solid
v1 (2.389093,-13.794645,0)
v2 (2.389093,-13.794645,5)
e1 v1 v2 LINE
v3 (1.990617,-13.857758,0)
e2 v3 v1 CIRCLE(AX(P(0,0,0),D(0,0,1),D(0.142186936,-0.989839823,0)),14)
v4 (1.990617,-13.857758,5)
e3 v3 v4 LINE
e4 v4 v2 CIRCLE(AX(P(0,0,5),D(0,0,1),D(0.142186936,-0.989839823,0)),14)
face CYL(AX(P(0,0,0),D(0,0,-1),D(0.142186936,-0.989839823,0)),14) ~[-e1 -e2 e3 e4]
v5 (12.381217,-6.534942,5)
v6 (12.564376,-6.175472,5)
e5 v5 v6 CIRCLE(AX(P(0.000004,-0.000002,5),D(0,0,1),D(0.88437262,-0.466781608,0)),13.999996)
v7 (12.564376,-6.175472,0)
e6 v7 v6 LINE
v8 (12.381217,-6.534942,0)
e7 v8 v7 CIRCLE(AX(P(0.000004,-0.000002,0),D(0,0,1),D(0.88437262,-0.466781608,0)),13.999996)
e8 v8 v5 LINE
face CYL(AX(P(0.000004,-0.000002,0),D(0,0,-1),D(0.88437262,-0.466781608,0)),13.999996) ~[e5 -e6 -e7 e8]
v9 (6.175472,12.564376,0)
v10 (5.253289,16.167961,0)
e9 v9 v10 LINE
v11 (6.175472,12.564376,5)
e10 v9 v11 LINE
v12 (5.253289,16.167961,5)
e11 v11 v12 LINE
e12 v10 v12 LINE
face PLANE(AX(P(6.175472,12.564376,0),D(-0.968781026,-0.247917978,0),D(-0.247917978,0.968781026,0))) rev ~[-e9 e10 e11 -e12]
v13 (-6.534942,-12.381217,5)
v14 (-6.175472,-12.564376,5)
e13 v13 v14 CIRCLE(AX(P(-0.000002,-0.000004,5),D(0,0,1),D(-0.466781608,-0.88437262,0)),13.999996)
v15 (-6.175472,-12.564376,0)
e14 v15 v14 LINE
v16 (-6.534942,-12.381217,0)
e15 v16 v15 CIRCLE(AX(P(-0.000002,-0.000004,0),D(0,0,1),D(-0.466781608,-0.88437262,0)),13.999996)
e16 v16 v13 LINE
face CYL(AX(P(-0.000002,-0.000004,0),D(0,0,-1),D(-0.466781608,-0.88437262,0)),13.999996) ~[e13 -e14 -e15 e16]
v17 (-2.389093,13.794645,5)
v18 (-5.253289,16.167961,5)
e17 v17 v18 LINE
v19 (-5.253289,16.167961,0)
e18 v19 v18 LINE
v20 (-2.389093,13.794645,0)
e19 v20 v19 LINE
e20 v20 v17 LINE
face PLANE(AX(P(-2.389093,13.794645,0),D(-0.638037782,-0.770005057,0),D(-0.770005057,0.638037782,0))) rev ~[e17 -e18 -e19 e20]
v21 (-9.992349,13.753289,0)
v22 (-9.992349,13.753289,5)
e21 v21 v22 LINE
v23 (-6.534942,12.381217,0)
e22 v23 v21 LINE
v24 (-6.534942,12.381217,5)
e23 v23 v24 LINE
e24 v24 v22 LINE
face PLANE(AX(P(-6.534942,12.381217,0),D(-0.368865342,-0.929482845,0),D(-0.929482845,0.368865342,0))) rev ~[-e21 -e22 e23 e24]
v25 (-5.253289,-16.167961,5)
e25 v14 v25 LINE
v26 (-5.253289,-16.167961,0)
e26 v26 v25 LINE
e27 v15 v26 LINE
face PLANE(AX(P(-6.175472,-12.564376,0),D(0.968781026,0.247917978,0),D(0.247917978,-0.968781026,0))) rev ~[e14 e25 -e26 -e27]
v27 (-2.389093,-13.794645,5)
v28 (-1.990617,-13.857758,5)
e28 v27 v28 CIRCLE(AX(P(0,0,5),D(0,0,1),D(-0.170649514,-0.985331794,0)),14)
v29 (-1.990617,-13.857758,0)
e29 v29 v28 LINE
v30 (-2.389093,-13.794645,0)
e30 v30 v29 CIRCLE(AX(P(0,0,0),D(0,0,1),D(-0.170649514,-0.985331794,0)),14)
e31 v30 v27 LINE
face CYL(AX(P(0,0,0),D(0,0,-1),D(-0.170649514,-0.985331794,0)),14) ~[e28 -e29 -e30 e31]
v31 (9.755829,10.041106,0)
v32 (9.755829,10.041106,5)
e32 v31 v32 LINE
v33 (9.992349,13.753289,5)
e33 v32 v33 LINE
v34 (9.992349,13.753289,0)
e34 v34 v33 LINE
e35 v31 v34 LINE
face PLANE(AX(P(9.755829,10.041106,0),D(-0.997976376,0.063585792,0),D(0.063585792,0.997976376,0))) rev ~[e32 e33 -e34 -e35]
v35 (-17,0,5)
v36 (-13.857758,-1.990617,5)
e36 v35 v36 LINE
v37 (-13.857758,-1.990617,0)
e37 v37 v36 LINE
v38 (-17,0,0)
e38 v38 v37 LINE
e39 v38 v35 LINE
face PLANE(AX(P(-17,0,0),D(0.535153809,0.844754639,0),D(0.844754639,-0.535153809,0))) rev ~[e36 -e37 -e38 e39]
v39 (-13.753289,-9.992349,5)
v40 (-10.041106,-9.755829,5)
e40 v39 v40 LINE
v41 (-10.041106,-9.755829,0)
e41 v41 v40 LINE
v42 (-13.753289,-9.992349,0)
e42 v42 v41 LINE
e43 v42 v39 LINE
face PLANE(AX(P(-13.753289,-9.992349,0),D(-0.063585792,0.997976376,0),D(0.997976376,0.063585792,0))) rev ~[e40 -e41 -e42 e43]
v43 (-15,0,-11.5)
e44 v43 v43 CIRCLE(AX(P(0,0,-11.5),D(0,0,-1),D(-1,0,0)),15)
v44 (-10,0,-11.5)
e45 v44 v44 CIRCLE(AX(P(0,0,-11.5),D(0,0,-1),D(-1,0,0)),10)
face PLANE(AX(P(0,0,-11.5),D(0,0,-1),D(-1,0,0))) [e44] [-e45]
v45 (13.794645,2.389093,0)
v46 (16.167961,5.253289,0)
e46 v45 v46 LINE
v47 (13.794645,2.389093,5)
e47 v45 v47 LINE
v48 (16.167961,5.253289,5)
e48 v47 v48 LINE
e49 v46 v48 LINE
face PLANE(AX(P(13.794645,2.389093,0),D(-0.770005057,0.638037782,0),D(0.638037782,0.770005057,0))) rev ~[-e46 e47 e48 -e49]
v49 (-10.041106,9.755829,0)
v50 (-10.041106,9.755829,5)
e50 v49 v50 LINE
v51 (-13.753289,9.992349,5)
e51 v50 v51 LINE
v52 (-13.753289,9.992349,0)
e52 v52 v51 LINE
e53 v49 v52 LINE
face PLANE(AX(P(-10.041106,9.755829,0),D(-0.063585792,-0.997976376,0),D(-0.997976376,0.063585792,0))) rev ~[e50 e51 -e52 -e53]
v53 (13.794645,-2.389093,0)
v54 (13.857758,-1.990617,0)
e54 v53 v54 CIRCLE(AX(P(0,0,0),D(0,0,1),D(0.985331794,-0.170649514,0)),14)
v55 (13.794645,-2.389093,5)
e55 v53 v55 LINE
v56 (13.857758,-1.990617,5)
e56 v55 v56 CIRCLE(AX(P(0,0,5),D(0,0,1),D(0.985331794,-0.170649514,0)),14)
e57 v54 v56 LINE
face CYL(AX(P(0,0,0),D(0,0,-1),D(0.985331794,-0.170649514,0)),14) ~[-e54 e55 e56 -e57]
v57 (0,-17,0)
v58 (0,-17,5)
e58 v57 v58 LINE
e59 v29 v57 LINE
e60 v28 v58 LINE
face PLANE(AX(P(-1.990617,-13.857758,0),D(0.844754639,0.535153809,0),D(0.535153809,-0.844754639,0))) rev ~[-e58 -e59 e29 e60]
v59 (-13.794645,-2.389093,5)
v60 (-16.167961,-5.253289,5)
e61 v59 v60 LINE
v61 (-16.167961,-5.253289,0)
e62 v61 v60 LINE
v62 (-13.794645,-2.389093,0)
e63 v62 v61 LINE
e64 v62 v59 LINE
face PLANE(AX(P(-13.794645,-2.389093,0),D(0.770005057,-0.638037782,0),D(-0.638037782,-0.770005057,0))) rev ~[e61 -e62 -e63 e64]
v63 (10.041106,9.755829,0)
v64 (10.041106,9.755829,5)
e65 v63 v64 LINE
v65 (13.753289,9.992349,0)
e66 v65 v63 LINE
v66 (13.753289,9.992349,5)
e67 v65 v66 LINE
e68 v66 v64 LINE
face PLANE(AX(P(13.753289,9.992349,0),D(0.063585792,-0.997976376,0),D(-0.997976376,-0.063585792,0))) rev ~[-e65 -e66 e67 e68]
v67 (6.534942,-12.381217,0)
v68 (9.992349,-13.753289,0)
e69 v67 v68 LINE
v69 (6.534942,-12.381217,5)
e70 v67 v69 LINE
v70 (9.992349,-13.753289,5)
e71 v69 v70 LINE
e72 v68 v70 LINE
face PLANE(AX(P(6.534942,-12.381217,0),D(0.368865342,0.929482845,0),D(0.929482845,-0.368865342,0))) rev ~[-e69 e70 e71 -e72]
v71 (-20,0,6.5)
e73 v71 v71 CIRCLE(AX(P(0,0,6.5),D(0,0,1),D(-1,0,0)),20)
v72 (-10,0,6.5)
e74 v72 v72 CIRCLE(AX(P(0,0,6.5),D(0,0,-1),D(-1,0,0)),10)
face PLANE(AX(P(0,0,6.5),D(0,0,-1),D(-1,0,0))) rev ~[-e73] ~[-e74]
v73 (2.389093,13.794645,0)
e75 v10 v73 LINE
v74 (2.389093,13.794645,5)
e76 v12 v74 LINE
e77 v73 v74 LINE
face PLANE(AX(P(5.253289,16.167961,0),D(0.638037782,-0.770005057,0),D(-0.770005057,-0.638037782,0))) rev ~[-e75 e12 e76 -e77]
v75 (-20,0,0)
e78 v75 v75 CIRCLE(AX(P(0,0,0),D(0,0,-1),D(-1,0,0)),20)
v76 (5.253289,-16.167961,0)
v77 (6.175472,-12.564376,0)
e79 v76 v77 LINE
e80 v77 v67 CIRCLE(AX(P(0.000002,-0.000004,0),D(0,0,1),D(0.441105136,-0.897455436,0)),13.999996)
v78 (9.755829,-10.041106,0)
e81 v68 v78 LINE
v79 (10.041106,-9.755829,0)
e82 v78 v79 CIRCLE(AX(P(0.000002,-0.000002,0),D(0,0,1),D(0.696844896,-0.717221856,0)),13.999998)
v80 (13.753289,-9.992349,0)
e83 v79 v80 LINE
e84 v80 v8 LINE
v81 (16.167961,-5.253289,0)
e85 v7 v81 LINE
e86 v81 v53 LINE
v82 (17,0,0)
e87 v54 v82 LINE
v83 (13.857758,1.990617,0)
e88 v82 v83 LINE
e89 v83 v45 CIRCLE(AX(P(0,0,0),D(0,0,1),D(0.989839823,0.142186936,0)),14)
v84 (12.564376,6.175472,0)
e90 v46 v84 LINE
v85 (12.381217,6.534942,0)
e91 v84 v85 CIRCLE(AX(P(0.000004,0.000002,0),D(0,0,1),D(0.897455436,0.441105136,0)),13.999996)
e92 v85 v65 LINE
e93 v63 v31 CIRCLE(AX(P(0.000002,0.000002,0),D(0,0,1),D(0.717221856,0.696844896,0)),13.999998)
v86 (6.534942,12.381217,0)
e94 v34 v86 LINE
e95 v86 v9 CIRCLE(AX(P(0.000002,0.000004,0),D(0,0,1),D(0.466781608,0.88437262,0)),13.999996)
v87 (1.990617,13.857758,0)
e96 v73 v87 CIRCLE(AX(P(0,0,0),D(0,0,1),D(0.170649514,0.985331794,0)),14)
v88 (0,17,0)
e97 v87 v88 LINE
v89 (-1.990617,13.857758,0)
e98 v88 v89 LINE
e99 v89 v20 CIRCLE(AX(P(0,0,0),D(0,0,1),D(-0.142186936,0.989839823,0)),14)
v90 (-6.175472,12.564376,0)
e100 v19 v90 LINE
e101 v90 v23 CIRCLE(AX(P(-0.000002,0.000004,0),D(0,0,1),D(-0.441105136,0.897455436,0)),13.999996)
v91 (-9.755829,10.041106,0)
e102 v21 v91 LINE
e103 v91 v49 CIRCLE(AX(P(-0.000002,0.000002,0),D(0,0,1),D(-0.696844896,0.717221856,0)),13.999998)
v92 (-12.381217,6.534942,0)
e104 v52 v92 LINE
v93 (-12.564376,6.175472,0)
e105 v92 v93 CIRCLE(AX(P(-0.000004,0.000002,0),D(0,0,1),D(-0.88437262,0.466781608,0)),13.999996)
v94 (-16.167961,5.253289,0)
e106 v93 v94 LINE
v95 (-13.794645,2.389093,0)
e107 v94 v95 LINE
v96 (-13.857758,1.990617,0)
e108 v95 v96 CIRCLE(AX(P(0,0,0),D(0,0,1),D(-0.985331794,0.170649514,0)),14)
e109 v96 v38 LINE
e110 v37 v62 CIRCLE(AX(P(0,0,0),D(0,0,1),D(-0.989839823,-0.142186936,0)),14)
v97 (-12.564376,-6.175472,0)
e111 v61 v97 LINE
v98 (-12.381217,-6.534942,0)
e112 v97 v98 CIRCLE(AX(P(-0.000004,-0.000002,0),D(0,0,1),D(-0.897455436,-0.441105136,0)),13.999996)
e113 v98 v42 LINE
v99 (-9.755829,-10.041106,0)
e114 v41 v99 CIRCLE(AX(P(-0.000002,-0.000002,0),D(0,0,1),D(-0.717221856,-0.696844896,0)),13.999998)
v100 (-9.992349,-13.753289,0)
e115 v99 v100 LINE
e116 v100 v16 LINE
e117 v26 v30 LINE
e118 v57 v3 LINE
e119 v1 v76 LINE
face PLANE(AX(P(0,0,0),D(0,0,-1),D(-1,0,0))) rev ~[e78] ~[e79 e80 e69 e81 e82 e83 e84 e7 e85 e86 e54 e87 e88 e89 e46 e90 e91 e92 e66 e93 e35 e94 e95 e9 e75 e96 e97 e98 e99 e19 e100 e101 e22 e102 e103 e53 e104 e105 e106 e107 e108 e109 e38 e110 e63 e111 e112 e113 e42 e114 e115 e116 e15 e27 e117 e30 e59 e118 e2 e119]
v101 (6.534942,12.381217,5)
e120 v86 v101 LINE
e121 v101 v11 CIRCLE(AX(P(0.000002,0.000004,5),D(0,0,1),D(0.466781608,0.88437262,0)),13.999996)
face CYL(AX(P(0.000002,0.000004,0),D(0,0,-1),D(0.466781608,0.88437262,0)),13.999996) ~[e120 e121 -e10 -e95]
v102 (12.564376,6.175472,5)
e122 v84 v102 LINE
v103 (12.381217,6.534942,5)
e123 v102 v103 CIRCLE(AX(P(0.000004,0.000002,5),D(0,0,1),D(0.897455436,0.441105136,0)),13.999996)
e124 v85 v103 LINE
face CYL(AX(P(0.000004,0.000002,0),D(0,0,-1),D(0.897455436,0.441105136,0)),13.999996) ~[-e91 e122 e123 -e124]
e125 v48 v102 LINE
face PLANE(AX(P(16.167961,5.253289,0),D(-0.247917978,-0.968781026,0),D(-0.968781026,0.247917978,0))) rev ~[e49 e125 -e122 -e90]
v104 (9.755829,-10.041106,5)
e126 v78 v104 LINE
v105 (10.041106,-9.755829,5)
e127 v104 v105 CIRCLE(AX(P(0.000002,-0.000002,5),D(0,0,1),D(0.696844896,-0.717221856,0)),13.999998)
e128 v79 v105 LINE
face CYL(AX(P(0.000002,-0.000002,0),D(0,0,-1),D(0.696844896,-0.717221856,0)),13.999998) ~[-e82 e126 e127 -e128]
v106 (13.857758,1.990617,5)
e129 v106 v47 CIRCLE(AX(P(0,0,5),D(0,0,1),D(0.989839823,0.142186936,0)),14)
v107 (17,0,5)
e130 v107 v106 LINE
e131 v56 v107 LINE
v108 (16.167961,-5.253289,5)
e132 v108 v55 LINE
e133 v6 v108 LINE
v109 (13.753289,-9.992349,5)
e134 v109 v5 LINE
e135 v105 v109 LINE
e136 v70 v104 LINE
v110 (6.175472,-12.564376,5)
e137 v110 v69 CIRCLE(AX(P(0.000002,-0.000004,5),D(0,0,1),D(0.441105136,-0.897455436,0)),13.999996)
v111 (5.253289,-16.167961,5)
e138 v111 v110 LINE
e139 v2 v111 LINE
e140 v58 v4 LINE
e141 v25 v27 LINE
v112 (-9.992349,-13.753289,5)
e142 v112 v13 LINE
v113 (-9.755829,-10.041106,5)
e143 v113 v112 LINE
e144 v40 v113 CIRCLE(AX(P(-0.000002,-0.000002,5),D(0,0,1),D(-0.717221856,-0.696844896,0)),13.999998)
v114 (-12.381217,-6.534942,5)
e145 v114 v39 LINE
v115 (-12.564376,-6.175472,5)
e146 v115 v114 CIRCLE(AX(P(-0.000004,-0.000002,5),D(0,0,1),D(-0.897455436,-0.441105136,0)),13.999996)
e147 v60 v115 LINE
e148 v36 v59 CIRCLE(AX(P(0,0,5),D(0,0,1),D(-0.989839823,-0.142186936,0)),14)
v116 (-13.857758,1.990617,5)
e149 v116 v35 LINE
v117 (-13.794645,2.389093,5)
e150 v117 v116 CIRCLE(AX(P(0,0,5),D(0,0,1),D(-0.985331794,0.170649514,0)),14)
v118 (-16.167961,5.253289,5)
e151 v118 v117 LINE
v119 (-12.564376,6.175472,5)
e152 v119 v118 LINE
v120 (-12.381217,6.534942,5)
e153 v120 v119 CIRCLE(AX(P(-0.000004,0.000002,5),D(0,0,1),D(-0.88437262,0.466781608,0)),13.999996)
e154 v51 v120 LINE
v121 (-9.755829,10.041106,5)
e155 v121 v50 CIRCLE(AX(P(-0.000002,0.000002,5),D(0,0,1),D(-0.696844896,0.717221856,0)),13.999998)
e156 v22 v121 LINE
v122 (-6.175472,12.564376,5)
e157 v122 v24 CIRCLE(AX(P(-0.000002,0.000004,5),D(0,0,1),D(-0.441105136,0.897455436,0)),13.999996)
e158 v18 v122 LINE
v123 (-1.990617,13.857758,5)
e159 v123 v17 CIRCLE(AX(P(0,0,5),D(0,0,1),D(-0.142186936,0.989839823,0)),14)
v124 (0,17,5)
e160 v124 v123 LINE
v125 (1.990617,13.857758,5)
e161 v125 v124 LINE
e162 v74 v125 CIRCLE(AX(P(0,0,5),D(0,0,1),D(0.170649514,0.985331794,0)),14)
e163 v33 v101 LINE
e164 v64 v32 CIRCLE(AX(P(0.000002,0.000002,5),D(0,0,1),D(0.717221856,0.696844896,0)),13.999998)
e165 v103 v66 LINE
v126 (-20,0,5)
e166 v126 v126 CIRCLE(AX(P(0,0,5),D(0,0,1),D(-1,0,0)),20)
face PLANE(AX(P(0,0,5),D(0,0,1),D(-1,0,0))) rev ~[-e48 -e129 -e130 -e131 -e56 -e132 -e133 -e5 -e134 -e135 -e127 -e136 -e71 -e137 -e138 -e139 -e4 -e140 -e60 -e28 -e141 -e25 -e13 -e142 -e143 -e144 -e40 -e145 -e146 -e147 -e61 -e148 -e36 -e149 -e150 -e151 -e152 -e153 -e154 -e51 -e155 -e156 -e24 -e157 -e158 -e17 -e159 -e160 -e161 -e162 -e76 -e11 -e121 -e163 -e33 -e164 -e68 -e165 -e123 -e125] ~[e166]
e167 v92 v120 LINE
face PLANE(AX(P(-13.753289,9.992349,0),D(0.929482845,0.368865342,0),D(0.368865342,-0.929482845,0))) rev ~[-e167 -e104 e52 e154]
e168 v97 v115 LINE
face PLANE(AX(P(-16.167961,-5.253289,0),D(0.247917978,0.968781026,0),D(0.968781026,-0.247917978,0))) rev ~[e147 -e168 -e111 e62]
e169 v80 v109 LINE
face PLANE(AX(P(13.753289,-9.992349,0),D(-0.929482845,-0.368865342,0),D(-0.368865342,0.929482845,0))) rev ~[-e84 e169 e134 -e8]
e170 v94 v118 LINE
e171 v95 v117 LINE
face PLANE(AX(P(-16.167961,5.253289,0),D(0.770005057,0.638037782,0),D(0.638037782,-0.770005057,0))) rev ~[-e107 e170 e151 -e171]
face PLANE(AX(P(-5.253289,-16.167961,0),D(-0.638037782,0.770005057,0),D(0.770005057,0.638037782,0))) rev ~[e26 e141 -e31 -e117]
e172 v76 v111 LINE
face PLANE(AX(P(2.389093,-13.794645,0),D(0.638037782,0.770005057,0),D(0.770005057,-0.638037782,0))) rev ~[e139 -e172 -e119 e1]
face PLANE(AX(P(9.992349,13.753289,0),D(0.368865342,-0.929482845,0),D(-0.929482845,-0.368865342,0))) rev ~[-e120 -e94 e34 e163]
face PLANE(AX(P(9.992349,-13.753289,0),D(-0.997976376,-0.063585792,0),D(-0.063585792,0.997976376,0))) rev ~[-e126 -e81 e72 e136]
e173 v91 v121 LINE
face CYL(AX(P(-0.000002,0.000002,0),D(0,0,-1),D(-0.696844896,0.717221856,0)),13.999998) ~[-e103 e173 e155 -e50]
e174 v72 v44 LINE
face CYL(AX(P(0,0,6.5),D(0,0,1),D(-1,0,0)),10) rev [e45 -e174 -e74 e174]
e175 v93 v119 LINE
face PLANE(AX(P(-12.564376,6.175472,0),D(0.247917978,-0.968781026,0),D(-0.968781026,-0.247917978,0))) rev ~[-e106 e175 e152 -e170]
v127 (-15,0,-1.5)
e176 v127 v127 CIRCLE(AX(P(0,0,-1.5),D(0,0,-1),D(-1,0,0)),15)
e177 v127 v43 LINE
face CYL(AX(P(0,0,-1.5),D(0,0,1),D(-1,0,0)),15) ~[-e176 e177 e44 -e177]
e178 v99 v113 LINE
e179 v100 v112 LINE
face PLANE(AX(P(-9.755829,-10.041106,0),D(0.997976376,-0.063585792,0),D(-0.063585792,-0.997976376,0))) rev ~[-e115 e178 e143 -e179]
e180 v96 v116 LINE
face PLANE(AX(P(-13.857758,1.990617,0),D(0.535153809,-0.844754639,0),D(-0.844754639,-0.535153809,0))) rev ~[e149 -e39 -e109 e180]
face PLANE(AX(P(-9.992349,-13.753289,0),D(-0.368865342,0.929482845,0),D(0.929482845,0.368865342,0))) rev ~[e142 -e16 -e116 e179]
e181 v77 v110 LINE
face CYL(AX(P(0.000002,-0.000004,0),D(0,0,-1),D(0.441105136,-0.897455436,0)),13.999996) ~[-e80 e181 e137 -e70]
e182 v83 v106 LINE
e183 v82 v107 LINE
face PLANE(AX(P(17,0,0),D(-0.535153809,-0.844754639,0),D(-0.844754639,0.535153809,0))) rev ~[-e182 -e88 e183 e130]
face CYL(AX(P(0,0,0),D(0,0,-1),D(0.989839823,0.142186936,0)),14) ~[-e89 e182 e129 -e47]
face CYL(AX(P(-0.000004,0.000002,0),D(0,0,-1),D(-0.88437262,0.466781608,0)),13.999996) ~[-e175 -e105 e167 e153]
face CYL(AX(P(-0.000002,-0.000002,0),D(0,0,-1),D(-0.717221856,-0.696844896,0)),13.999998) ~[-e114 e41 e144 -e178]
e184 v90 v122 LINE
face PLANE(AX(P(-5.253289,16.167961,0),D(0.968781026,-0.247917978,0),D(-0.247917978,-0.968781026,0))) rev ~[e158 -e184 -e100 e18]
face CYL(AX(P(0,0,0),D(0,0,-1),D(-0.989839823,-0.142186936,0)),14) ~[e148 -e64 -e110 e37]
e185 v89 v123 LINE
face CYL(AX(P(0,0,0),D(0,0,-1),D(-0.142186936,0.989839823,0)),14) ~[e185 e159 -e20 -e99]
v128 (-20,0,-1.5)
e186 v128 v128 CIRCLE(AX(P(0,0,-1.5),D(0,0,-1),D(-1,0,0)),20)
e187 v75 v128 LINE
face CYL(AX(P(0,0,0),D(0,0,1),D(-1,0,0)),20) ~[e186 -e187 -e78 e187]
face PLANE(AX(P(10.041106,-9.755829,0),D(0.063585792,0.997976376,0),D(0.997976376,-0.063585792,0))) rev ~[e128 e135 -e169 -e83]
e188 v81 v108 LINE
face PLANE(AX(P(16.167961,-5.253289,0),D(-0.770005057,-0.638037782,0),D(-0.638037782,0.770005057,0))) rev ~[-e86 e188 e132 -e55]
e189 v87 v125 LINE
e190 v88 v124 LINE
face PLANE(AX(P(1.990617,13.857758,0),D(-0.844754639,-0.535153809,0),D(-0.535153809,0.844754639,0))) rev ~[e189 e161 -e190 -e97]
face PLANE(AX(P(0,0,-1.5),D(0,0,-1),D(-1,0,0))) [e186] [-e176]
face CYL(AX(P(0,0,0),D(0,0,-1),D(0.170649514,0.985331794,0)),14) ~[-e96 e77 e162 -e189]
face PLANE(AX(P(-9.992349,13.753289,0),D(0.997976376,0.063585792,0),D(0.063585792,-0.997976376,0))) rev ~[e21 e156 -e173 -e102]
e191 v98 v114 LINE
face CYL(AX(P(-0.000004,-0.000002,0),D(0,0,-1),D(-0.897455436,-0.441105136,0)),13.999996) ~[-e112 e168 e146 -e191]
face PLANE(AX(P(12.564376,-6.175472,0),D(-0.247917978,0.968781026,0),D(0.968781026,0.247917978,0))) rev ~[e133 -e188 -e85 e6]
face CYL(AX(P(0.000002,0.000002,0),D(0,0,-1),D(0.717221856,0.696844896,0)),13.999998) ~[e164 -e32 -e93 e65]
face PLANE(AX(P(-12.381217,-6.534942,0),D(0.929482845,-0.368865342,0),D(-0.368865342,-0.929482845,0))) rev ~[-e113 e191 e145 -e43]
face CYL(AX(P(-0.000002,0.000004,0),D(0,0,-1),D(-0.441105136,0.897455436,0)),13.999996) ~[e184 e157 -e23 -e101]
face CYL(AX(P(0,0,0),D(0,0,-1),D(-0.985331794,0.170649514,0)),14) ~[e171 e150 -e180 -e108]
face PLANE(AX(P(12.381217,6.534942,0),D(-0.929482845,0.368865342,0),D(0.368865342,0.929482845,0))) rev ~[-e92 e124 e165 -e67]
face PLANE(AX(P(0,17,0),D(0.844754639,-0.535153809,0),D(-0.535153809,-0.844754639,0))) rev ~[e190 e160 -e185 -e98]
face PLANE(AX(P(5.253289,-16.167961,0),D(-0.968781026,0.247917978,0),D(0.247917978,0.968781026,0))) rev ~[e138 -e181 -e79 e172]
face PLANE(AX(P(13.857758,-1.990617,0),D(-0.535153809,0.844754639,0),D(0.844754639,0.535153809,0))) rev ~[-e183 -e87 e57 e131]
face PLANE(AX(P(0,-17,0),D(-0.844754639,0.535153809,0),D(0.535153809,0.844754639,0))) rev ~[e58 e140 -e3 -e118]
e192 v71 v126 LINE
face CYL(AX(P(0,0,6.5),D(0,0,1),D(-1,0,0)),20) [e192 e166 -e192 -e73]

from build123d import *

# Parameters (mm, degrees)
BOSS_EXTRUDE1_DEPTH = 5
SKETCH2_R           = 20
BOSS_EXTRUDE2_DEPTH = 1.5
BOSS_EXTRUDE3_START = 1.5
SKETCH3_R           = 20
BOSS_EXTRUDE3_DEPTH = 1.5
SKETCH4_R           = 13
CUT_EXTRUDE1_DEPTH  = 11.5
SKETCH5_R           = 15
BOSS_EXTRUDE4_DEPTH = 10
CUT_EXTRUDE2_START  = -30
SKETCH6_R           = 13
CUT_EXTRUDE2_DEPTH  = 30
BOSS_EXTRUDE5_START = -18
SKETCH7_R           = 13
SKETCH7_R_2         = 10
BOSS_EXTRUDE5_DEPTH = 18


with BuildPart() as part:
    # Sketch1 → Boss-Extrude1 (new body)
    with BuildSketch(Plane.XY):
        with BuildLine():
            Line((0, 17), (-1.990617103, 13.857757522))
            ThreePointArc((-1.990617103, 13.857757522), (-2.190082511, 13.827636768), (-2.389093211, 13.794645107))
            Line((-2.389093211, 13.794645107), (-5.253288904, 16.167960777))
            Line((-5.253288904, 16.167960777), (-6.175471945, 12.564376079))
            ThreePointArc((-6.175471945, 12.564376079), (-6.355866996, 12.474091339), (-6.534942436, 12.381216715))
            Line((-6.534942436, 12.381216715), (-9.992349289, 13.753288904))
            Line((-9.992349289, 13.753288904), (-9.755828567, 10.041105964))
            ThreePointArc((-9.755828567, 10.041105964), (-9.899494937, 9.899494937), (-10.041105964, 9.755828567))
            Line((-10.041105964, 9.755828567), (-13.753288904, 9.992349289))
            Line((-13.753288904, 9.992349289), (-12.381216715, 6.534942436))
            ThreePointArc((-12.381216715, 6.534942436), (-12.474091339, 6.355866996), (-12.564376079, 6.175471945))
            Line((-12.564376079, 6.175471945), (-16.167960777, 5.253288904))
            Line((-16.167960777, 5.253288904), (-13.794645107, 2.389093211))
            ThreePointArc((-13.794645107, 2.389093211), (-13.827636768, 2.190082511), (-13.857757522, 1.990617103))
            Line((-13.857757522, 1.990617103), (-17, 0))
            Line((-17, 0), (-13.857757522, -1.990617103))
            ThreePointArc((-13.857757522, -1.990617103), (-13.827636768, -2.190082511), (-13.794645107, -2.389093211))
            Line((-13.794645107, -2.389093211), (-16.167960777, -5.253288904))
            Line((-16.167960777, -5.253288904), (-12.564376079, -6.175471945))
            ThreePointArc((-12.564376079, -6.175471945), (-12.474091339, -6.355866996), (-12.381216715, -6.534942436))
            Line((-12.381216715, -6.534942436), (-13.753288904, -9.992349289))
            Line((-13.753288904, -9.992349289), (-10.041105964, -9.755828567))
            ThreePointArc((-10.041105964, -9.755828567), (-9.899494937, -9.899494937), (-9.755828567, -10.041105964))
            Line((-9.755828567, -10.041105964), (-9.992349289, -13.753288904))
            Line((-9.992349289, -13.753288904), (-6.534942436, -12.381216715))
            ThreePointArc((-6.534942436, -12.381216715), (-6.355866996, -12.474091339), (-6.175471945, -12.564376079))
            Line((-6.175471945, -12.564376079), (-5.253288904, -16.167960777))
            Line((-5.253288904, -16.167960777), (-2.389093211, -13.794645107))
            ThreePointArc((-2.389093211, -13.794645107), (-2.190082511, -13.827636768), (-1.990617103, -13.857757522))
            Line((-1.990617103, -13.857757522), (0, -17))
            Line((0, -17), (1.990617103, -13.857757522))
            ThreePointArc((1.990617103, -13.857757522), (2.190082511, -13.827636768), (2.389093211, -13.794645107))
            Line((2.389093211, -13.794645107), (5.253288904, -16.167960777))
            Line((5.253288904, -16.167960777), (6.175471945, -12.564376079))
            ThreePointArc((6.175471945, -12.564376079), (6.355866996, -12.474091339), (6.534942436, -12.381216715))
            Line((6.534942436, -12.381216715), (9.992349289, -13.753288904))
            Line((9.992349289, -13.753288904), (9.755828567, -10.041105964))
            ThreePointArc((9.755828567, -10.041105964), (9.899494937, -9.899494937), (10.041105964, -9.755828567))
            Line((10.041105964, -9.755828567), (13.753288904, -9.992349289))
            Line((13.753288904, -9.992349289), (12.381216715, -6.534942436))
            ThreePointArc((12.381216715, -6.534942436), (12.474091339, -6.355866996), (12.564376079, -6.175471945))
            Line((12.564376079, -6.175471945), (16.167960777, -5.253288904))
            Line((16.167960777, -5.253288904), (13.794645107, -2.389093211))
            ThreePointArc((13.794645107, -2.389093211), (13.827636768, -2.190082511), (13.857757522, -1.990617103))
            Line((13.857757522, -1.990617103), (17, 0))
            Line((17, 0), (13.857757522, 1.990617103))
            ThreePointArc((13.857757522, 1.990617103), (13.827636768, 2.190082511), (13.794645107, 2.389093211))
            Line((13.794645107, 2.389093211), (16.167960777, 5.253288904))
            Line((16.167960777, 5.253288904), (12.564376079, 6.175471945))
            ThreePointArc((12.564376079, 6.175471945), (12.474091339, 6.355866996), (12.381216715, 6.534942436))
            Line((12.381216715, 6.534942436), (13.753288904, 9.992349289))
            Line((13.753288904, 9.992349289), (10.041105964, 9.755828567))
            ThreePointArc((10.041105964, 9.755828567), (9.899494937, 9.899494937), (9.755828567, 10.041105964))
            Line((9.755828567, 10.041105964), (9.992349289, 13.753288904))
            Line((9.992349289, 13.753288904), (6.534942436, 12.381216715))
            ThreePointArc((6.534942436, 12.381216715), (6.355866996, 12.474091339), (6.175471945, 12.564376079))
            Line((6.175471945, 12.564376079), (5.253288904, 16.167960777))
            Line((5.253288904, 16.167960777), (2.389093211, 13.794645107))
            ThreePointArc((2.389093211, 13.794645107), (2.190082511, 13.827636768), (1.990617103, 13.857757522))
            Line((1.990617103, 13.857757522), (0, 17))
        make_face()
    extrude(amount=BOSS_EXTRUDE1_DEPTH)

    # Sketch2 → Boss-Extrude2 (add)
    with BuildSketch(Plane(origin=(0, 0, 0), x_dir=(-1, 0, 0), z_dir=(0, 0, -1))):
        Circle(SKETCH2_R)
    extrude(amount=BOSS_EXTRUDE2_DEPTH)

    # Sketch3 → Boss-Extrude3 (add)
    with BuildSketch(Plane.XY.offset(5).offset(BOSS_EXTRUDE3_START)):
        with Locations(Location((0, 0, 0), (0, 0, 180))):
            Circle(SKETCH3_R)
    extrude(amount=-BOSS_EXTRUDE3_DEPTH)

    # Sketch4 → Cut-Extrude1 (cut)
    with BuildSketch(Plane.XY.offset(6.5)):
        Circle(SKETCH4_R)
    extrude(amount=-CUT_EXTRUDE1_DEPTH, mode=Mode.SUBTRACT)

    # Sketch5 → Boss-Extrude4 (add)
    with BuildSketch(Plane(origin=(0, 0, -1.5), x_dir=(-1, 0, 0), z_dir=(0, 0, -1))):
        Circle(SKETCH5_R)
    extrude(amount=BOSS_EXTRUDE4_DEPTH)

    # Sketch6 → Cut-Extrude2 (cut)
    with BuildSketch(Plane(origin=(0, 0, -11.5), x_dir=(-1, 0, 0), z_dir=(0, 0, -1)).offset(CUT_EXTRUDE2_START)):
        with Locations(Location((0, 0, 0), (0, 0, 180))):
            Circle(SKETCH6_R)
    extrude(amount=CUT_EXTRUDE2_DEPTH, mode=Mode.SUBTRACT)

    # Sketch7 → Boss-Extrude5 (add)
    with BuildSketch(Plane(origin=(0, 0, -11.5), x_dir=(-1, 0, 0), z_dir=(0, 0, -1)).offset(BOSS_EXTRUDE5_START)):
        Circle(SKETCH7_R)
        Circle(SKETCH7_R_2, mode=Mode.SUBTRACT)
    extrude(amount=BOSS_EXTRUDE5_DEPTH)


solid = part.part
